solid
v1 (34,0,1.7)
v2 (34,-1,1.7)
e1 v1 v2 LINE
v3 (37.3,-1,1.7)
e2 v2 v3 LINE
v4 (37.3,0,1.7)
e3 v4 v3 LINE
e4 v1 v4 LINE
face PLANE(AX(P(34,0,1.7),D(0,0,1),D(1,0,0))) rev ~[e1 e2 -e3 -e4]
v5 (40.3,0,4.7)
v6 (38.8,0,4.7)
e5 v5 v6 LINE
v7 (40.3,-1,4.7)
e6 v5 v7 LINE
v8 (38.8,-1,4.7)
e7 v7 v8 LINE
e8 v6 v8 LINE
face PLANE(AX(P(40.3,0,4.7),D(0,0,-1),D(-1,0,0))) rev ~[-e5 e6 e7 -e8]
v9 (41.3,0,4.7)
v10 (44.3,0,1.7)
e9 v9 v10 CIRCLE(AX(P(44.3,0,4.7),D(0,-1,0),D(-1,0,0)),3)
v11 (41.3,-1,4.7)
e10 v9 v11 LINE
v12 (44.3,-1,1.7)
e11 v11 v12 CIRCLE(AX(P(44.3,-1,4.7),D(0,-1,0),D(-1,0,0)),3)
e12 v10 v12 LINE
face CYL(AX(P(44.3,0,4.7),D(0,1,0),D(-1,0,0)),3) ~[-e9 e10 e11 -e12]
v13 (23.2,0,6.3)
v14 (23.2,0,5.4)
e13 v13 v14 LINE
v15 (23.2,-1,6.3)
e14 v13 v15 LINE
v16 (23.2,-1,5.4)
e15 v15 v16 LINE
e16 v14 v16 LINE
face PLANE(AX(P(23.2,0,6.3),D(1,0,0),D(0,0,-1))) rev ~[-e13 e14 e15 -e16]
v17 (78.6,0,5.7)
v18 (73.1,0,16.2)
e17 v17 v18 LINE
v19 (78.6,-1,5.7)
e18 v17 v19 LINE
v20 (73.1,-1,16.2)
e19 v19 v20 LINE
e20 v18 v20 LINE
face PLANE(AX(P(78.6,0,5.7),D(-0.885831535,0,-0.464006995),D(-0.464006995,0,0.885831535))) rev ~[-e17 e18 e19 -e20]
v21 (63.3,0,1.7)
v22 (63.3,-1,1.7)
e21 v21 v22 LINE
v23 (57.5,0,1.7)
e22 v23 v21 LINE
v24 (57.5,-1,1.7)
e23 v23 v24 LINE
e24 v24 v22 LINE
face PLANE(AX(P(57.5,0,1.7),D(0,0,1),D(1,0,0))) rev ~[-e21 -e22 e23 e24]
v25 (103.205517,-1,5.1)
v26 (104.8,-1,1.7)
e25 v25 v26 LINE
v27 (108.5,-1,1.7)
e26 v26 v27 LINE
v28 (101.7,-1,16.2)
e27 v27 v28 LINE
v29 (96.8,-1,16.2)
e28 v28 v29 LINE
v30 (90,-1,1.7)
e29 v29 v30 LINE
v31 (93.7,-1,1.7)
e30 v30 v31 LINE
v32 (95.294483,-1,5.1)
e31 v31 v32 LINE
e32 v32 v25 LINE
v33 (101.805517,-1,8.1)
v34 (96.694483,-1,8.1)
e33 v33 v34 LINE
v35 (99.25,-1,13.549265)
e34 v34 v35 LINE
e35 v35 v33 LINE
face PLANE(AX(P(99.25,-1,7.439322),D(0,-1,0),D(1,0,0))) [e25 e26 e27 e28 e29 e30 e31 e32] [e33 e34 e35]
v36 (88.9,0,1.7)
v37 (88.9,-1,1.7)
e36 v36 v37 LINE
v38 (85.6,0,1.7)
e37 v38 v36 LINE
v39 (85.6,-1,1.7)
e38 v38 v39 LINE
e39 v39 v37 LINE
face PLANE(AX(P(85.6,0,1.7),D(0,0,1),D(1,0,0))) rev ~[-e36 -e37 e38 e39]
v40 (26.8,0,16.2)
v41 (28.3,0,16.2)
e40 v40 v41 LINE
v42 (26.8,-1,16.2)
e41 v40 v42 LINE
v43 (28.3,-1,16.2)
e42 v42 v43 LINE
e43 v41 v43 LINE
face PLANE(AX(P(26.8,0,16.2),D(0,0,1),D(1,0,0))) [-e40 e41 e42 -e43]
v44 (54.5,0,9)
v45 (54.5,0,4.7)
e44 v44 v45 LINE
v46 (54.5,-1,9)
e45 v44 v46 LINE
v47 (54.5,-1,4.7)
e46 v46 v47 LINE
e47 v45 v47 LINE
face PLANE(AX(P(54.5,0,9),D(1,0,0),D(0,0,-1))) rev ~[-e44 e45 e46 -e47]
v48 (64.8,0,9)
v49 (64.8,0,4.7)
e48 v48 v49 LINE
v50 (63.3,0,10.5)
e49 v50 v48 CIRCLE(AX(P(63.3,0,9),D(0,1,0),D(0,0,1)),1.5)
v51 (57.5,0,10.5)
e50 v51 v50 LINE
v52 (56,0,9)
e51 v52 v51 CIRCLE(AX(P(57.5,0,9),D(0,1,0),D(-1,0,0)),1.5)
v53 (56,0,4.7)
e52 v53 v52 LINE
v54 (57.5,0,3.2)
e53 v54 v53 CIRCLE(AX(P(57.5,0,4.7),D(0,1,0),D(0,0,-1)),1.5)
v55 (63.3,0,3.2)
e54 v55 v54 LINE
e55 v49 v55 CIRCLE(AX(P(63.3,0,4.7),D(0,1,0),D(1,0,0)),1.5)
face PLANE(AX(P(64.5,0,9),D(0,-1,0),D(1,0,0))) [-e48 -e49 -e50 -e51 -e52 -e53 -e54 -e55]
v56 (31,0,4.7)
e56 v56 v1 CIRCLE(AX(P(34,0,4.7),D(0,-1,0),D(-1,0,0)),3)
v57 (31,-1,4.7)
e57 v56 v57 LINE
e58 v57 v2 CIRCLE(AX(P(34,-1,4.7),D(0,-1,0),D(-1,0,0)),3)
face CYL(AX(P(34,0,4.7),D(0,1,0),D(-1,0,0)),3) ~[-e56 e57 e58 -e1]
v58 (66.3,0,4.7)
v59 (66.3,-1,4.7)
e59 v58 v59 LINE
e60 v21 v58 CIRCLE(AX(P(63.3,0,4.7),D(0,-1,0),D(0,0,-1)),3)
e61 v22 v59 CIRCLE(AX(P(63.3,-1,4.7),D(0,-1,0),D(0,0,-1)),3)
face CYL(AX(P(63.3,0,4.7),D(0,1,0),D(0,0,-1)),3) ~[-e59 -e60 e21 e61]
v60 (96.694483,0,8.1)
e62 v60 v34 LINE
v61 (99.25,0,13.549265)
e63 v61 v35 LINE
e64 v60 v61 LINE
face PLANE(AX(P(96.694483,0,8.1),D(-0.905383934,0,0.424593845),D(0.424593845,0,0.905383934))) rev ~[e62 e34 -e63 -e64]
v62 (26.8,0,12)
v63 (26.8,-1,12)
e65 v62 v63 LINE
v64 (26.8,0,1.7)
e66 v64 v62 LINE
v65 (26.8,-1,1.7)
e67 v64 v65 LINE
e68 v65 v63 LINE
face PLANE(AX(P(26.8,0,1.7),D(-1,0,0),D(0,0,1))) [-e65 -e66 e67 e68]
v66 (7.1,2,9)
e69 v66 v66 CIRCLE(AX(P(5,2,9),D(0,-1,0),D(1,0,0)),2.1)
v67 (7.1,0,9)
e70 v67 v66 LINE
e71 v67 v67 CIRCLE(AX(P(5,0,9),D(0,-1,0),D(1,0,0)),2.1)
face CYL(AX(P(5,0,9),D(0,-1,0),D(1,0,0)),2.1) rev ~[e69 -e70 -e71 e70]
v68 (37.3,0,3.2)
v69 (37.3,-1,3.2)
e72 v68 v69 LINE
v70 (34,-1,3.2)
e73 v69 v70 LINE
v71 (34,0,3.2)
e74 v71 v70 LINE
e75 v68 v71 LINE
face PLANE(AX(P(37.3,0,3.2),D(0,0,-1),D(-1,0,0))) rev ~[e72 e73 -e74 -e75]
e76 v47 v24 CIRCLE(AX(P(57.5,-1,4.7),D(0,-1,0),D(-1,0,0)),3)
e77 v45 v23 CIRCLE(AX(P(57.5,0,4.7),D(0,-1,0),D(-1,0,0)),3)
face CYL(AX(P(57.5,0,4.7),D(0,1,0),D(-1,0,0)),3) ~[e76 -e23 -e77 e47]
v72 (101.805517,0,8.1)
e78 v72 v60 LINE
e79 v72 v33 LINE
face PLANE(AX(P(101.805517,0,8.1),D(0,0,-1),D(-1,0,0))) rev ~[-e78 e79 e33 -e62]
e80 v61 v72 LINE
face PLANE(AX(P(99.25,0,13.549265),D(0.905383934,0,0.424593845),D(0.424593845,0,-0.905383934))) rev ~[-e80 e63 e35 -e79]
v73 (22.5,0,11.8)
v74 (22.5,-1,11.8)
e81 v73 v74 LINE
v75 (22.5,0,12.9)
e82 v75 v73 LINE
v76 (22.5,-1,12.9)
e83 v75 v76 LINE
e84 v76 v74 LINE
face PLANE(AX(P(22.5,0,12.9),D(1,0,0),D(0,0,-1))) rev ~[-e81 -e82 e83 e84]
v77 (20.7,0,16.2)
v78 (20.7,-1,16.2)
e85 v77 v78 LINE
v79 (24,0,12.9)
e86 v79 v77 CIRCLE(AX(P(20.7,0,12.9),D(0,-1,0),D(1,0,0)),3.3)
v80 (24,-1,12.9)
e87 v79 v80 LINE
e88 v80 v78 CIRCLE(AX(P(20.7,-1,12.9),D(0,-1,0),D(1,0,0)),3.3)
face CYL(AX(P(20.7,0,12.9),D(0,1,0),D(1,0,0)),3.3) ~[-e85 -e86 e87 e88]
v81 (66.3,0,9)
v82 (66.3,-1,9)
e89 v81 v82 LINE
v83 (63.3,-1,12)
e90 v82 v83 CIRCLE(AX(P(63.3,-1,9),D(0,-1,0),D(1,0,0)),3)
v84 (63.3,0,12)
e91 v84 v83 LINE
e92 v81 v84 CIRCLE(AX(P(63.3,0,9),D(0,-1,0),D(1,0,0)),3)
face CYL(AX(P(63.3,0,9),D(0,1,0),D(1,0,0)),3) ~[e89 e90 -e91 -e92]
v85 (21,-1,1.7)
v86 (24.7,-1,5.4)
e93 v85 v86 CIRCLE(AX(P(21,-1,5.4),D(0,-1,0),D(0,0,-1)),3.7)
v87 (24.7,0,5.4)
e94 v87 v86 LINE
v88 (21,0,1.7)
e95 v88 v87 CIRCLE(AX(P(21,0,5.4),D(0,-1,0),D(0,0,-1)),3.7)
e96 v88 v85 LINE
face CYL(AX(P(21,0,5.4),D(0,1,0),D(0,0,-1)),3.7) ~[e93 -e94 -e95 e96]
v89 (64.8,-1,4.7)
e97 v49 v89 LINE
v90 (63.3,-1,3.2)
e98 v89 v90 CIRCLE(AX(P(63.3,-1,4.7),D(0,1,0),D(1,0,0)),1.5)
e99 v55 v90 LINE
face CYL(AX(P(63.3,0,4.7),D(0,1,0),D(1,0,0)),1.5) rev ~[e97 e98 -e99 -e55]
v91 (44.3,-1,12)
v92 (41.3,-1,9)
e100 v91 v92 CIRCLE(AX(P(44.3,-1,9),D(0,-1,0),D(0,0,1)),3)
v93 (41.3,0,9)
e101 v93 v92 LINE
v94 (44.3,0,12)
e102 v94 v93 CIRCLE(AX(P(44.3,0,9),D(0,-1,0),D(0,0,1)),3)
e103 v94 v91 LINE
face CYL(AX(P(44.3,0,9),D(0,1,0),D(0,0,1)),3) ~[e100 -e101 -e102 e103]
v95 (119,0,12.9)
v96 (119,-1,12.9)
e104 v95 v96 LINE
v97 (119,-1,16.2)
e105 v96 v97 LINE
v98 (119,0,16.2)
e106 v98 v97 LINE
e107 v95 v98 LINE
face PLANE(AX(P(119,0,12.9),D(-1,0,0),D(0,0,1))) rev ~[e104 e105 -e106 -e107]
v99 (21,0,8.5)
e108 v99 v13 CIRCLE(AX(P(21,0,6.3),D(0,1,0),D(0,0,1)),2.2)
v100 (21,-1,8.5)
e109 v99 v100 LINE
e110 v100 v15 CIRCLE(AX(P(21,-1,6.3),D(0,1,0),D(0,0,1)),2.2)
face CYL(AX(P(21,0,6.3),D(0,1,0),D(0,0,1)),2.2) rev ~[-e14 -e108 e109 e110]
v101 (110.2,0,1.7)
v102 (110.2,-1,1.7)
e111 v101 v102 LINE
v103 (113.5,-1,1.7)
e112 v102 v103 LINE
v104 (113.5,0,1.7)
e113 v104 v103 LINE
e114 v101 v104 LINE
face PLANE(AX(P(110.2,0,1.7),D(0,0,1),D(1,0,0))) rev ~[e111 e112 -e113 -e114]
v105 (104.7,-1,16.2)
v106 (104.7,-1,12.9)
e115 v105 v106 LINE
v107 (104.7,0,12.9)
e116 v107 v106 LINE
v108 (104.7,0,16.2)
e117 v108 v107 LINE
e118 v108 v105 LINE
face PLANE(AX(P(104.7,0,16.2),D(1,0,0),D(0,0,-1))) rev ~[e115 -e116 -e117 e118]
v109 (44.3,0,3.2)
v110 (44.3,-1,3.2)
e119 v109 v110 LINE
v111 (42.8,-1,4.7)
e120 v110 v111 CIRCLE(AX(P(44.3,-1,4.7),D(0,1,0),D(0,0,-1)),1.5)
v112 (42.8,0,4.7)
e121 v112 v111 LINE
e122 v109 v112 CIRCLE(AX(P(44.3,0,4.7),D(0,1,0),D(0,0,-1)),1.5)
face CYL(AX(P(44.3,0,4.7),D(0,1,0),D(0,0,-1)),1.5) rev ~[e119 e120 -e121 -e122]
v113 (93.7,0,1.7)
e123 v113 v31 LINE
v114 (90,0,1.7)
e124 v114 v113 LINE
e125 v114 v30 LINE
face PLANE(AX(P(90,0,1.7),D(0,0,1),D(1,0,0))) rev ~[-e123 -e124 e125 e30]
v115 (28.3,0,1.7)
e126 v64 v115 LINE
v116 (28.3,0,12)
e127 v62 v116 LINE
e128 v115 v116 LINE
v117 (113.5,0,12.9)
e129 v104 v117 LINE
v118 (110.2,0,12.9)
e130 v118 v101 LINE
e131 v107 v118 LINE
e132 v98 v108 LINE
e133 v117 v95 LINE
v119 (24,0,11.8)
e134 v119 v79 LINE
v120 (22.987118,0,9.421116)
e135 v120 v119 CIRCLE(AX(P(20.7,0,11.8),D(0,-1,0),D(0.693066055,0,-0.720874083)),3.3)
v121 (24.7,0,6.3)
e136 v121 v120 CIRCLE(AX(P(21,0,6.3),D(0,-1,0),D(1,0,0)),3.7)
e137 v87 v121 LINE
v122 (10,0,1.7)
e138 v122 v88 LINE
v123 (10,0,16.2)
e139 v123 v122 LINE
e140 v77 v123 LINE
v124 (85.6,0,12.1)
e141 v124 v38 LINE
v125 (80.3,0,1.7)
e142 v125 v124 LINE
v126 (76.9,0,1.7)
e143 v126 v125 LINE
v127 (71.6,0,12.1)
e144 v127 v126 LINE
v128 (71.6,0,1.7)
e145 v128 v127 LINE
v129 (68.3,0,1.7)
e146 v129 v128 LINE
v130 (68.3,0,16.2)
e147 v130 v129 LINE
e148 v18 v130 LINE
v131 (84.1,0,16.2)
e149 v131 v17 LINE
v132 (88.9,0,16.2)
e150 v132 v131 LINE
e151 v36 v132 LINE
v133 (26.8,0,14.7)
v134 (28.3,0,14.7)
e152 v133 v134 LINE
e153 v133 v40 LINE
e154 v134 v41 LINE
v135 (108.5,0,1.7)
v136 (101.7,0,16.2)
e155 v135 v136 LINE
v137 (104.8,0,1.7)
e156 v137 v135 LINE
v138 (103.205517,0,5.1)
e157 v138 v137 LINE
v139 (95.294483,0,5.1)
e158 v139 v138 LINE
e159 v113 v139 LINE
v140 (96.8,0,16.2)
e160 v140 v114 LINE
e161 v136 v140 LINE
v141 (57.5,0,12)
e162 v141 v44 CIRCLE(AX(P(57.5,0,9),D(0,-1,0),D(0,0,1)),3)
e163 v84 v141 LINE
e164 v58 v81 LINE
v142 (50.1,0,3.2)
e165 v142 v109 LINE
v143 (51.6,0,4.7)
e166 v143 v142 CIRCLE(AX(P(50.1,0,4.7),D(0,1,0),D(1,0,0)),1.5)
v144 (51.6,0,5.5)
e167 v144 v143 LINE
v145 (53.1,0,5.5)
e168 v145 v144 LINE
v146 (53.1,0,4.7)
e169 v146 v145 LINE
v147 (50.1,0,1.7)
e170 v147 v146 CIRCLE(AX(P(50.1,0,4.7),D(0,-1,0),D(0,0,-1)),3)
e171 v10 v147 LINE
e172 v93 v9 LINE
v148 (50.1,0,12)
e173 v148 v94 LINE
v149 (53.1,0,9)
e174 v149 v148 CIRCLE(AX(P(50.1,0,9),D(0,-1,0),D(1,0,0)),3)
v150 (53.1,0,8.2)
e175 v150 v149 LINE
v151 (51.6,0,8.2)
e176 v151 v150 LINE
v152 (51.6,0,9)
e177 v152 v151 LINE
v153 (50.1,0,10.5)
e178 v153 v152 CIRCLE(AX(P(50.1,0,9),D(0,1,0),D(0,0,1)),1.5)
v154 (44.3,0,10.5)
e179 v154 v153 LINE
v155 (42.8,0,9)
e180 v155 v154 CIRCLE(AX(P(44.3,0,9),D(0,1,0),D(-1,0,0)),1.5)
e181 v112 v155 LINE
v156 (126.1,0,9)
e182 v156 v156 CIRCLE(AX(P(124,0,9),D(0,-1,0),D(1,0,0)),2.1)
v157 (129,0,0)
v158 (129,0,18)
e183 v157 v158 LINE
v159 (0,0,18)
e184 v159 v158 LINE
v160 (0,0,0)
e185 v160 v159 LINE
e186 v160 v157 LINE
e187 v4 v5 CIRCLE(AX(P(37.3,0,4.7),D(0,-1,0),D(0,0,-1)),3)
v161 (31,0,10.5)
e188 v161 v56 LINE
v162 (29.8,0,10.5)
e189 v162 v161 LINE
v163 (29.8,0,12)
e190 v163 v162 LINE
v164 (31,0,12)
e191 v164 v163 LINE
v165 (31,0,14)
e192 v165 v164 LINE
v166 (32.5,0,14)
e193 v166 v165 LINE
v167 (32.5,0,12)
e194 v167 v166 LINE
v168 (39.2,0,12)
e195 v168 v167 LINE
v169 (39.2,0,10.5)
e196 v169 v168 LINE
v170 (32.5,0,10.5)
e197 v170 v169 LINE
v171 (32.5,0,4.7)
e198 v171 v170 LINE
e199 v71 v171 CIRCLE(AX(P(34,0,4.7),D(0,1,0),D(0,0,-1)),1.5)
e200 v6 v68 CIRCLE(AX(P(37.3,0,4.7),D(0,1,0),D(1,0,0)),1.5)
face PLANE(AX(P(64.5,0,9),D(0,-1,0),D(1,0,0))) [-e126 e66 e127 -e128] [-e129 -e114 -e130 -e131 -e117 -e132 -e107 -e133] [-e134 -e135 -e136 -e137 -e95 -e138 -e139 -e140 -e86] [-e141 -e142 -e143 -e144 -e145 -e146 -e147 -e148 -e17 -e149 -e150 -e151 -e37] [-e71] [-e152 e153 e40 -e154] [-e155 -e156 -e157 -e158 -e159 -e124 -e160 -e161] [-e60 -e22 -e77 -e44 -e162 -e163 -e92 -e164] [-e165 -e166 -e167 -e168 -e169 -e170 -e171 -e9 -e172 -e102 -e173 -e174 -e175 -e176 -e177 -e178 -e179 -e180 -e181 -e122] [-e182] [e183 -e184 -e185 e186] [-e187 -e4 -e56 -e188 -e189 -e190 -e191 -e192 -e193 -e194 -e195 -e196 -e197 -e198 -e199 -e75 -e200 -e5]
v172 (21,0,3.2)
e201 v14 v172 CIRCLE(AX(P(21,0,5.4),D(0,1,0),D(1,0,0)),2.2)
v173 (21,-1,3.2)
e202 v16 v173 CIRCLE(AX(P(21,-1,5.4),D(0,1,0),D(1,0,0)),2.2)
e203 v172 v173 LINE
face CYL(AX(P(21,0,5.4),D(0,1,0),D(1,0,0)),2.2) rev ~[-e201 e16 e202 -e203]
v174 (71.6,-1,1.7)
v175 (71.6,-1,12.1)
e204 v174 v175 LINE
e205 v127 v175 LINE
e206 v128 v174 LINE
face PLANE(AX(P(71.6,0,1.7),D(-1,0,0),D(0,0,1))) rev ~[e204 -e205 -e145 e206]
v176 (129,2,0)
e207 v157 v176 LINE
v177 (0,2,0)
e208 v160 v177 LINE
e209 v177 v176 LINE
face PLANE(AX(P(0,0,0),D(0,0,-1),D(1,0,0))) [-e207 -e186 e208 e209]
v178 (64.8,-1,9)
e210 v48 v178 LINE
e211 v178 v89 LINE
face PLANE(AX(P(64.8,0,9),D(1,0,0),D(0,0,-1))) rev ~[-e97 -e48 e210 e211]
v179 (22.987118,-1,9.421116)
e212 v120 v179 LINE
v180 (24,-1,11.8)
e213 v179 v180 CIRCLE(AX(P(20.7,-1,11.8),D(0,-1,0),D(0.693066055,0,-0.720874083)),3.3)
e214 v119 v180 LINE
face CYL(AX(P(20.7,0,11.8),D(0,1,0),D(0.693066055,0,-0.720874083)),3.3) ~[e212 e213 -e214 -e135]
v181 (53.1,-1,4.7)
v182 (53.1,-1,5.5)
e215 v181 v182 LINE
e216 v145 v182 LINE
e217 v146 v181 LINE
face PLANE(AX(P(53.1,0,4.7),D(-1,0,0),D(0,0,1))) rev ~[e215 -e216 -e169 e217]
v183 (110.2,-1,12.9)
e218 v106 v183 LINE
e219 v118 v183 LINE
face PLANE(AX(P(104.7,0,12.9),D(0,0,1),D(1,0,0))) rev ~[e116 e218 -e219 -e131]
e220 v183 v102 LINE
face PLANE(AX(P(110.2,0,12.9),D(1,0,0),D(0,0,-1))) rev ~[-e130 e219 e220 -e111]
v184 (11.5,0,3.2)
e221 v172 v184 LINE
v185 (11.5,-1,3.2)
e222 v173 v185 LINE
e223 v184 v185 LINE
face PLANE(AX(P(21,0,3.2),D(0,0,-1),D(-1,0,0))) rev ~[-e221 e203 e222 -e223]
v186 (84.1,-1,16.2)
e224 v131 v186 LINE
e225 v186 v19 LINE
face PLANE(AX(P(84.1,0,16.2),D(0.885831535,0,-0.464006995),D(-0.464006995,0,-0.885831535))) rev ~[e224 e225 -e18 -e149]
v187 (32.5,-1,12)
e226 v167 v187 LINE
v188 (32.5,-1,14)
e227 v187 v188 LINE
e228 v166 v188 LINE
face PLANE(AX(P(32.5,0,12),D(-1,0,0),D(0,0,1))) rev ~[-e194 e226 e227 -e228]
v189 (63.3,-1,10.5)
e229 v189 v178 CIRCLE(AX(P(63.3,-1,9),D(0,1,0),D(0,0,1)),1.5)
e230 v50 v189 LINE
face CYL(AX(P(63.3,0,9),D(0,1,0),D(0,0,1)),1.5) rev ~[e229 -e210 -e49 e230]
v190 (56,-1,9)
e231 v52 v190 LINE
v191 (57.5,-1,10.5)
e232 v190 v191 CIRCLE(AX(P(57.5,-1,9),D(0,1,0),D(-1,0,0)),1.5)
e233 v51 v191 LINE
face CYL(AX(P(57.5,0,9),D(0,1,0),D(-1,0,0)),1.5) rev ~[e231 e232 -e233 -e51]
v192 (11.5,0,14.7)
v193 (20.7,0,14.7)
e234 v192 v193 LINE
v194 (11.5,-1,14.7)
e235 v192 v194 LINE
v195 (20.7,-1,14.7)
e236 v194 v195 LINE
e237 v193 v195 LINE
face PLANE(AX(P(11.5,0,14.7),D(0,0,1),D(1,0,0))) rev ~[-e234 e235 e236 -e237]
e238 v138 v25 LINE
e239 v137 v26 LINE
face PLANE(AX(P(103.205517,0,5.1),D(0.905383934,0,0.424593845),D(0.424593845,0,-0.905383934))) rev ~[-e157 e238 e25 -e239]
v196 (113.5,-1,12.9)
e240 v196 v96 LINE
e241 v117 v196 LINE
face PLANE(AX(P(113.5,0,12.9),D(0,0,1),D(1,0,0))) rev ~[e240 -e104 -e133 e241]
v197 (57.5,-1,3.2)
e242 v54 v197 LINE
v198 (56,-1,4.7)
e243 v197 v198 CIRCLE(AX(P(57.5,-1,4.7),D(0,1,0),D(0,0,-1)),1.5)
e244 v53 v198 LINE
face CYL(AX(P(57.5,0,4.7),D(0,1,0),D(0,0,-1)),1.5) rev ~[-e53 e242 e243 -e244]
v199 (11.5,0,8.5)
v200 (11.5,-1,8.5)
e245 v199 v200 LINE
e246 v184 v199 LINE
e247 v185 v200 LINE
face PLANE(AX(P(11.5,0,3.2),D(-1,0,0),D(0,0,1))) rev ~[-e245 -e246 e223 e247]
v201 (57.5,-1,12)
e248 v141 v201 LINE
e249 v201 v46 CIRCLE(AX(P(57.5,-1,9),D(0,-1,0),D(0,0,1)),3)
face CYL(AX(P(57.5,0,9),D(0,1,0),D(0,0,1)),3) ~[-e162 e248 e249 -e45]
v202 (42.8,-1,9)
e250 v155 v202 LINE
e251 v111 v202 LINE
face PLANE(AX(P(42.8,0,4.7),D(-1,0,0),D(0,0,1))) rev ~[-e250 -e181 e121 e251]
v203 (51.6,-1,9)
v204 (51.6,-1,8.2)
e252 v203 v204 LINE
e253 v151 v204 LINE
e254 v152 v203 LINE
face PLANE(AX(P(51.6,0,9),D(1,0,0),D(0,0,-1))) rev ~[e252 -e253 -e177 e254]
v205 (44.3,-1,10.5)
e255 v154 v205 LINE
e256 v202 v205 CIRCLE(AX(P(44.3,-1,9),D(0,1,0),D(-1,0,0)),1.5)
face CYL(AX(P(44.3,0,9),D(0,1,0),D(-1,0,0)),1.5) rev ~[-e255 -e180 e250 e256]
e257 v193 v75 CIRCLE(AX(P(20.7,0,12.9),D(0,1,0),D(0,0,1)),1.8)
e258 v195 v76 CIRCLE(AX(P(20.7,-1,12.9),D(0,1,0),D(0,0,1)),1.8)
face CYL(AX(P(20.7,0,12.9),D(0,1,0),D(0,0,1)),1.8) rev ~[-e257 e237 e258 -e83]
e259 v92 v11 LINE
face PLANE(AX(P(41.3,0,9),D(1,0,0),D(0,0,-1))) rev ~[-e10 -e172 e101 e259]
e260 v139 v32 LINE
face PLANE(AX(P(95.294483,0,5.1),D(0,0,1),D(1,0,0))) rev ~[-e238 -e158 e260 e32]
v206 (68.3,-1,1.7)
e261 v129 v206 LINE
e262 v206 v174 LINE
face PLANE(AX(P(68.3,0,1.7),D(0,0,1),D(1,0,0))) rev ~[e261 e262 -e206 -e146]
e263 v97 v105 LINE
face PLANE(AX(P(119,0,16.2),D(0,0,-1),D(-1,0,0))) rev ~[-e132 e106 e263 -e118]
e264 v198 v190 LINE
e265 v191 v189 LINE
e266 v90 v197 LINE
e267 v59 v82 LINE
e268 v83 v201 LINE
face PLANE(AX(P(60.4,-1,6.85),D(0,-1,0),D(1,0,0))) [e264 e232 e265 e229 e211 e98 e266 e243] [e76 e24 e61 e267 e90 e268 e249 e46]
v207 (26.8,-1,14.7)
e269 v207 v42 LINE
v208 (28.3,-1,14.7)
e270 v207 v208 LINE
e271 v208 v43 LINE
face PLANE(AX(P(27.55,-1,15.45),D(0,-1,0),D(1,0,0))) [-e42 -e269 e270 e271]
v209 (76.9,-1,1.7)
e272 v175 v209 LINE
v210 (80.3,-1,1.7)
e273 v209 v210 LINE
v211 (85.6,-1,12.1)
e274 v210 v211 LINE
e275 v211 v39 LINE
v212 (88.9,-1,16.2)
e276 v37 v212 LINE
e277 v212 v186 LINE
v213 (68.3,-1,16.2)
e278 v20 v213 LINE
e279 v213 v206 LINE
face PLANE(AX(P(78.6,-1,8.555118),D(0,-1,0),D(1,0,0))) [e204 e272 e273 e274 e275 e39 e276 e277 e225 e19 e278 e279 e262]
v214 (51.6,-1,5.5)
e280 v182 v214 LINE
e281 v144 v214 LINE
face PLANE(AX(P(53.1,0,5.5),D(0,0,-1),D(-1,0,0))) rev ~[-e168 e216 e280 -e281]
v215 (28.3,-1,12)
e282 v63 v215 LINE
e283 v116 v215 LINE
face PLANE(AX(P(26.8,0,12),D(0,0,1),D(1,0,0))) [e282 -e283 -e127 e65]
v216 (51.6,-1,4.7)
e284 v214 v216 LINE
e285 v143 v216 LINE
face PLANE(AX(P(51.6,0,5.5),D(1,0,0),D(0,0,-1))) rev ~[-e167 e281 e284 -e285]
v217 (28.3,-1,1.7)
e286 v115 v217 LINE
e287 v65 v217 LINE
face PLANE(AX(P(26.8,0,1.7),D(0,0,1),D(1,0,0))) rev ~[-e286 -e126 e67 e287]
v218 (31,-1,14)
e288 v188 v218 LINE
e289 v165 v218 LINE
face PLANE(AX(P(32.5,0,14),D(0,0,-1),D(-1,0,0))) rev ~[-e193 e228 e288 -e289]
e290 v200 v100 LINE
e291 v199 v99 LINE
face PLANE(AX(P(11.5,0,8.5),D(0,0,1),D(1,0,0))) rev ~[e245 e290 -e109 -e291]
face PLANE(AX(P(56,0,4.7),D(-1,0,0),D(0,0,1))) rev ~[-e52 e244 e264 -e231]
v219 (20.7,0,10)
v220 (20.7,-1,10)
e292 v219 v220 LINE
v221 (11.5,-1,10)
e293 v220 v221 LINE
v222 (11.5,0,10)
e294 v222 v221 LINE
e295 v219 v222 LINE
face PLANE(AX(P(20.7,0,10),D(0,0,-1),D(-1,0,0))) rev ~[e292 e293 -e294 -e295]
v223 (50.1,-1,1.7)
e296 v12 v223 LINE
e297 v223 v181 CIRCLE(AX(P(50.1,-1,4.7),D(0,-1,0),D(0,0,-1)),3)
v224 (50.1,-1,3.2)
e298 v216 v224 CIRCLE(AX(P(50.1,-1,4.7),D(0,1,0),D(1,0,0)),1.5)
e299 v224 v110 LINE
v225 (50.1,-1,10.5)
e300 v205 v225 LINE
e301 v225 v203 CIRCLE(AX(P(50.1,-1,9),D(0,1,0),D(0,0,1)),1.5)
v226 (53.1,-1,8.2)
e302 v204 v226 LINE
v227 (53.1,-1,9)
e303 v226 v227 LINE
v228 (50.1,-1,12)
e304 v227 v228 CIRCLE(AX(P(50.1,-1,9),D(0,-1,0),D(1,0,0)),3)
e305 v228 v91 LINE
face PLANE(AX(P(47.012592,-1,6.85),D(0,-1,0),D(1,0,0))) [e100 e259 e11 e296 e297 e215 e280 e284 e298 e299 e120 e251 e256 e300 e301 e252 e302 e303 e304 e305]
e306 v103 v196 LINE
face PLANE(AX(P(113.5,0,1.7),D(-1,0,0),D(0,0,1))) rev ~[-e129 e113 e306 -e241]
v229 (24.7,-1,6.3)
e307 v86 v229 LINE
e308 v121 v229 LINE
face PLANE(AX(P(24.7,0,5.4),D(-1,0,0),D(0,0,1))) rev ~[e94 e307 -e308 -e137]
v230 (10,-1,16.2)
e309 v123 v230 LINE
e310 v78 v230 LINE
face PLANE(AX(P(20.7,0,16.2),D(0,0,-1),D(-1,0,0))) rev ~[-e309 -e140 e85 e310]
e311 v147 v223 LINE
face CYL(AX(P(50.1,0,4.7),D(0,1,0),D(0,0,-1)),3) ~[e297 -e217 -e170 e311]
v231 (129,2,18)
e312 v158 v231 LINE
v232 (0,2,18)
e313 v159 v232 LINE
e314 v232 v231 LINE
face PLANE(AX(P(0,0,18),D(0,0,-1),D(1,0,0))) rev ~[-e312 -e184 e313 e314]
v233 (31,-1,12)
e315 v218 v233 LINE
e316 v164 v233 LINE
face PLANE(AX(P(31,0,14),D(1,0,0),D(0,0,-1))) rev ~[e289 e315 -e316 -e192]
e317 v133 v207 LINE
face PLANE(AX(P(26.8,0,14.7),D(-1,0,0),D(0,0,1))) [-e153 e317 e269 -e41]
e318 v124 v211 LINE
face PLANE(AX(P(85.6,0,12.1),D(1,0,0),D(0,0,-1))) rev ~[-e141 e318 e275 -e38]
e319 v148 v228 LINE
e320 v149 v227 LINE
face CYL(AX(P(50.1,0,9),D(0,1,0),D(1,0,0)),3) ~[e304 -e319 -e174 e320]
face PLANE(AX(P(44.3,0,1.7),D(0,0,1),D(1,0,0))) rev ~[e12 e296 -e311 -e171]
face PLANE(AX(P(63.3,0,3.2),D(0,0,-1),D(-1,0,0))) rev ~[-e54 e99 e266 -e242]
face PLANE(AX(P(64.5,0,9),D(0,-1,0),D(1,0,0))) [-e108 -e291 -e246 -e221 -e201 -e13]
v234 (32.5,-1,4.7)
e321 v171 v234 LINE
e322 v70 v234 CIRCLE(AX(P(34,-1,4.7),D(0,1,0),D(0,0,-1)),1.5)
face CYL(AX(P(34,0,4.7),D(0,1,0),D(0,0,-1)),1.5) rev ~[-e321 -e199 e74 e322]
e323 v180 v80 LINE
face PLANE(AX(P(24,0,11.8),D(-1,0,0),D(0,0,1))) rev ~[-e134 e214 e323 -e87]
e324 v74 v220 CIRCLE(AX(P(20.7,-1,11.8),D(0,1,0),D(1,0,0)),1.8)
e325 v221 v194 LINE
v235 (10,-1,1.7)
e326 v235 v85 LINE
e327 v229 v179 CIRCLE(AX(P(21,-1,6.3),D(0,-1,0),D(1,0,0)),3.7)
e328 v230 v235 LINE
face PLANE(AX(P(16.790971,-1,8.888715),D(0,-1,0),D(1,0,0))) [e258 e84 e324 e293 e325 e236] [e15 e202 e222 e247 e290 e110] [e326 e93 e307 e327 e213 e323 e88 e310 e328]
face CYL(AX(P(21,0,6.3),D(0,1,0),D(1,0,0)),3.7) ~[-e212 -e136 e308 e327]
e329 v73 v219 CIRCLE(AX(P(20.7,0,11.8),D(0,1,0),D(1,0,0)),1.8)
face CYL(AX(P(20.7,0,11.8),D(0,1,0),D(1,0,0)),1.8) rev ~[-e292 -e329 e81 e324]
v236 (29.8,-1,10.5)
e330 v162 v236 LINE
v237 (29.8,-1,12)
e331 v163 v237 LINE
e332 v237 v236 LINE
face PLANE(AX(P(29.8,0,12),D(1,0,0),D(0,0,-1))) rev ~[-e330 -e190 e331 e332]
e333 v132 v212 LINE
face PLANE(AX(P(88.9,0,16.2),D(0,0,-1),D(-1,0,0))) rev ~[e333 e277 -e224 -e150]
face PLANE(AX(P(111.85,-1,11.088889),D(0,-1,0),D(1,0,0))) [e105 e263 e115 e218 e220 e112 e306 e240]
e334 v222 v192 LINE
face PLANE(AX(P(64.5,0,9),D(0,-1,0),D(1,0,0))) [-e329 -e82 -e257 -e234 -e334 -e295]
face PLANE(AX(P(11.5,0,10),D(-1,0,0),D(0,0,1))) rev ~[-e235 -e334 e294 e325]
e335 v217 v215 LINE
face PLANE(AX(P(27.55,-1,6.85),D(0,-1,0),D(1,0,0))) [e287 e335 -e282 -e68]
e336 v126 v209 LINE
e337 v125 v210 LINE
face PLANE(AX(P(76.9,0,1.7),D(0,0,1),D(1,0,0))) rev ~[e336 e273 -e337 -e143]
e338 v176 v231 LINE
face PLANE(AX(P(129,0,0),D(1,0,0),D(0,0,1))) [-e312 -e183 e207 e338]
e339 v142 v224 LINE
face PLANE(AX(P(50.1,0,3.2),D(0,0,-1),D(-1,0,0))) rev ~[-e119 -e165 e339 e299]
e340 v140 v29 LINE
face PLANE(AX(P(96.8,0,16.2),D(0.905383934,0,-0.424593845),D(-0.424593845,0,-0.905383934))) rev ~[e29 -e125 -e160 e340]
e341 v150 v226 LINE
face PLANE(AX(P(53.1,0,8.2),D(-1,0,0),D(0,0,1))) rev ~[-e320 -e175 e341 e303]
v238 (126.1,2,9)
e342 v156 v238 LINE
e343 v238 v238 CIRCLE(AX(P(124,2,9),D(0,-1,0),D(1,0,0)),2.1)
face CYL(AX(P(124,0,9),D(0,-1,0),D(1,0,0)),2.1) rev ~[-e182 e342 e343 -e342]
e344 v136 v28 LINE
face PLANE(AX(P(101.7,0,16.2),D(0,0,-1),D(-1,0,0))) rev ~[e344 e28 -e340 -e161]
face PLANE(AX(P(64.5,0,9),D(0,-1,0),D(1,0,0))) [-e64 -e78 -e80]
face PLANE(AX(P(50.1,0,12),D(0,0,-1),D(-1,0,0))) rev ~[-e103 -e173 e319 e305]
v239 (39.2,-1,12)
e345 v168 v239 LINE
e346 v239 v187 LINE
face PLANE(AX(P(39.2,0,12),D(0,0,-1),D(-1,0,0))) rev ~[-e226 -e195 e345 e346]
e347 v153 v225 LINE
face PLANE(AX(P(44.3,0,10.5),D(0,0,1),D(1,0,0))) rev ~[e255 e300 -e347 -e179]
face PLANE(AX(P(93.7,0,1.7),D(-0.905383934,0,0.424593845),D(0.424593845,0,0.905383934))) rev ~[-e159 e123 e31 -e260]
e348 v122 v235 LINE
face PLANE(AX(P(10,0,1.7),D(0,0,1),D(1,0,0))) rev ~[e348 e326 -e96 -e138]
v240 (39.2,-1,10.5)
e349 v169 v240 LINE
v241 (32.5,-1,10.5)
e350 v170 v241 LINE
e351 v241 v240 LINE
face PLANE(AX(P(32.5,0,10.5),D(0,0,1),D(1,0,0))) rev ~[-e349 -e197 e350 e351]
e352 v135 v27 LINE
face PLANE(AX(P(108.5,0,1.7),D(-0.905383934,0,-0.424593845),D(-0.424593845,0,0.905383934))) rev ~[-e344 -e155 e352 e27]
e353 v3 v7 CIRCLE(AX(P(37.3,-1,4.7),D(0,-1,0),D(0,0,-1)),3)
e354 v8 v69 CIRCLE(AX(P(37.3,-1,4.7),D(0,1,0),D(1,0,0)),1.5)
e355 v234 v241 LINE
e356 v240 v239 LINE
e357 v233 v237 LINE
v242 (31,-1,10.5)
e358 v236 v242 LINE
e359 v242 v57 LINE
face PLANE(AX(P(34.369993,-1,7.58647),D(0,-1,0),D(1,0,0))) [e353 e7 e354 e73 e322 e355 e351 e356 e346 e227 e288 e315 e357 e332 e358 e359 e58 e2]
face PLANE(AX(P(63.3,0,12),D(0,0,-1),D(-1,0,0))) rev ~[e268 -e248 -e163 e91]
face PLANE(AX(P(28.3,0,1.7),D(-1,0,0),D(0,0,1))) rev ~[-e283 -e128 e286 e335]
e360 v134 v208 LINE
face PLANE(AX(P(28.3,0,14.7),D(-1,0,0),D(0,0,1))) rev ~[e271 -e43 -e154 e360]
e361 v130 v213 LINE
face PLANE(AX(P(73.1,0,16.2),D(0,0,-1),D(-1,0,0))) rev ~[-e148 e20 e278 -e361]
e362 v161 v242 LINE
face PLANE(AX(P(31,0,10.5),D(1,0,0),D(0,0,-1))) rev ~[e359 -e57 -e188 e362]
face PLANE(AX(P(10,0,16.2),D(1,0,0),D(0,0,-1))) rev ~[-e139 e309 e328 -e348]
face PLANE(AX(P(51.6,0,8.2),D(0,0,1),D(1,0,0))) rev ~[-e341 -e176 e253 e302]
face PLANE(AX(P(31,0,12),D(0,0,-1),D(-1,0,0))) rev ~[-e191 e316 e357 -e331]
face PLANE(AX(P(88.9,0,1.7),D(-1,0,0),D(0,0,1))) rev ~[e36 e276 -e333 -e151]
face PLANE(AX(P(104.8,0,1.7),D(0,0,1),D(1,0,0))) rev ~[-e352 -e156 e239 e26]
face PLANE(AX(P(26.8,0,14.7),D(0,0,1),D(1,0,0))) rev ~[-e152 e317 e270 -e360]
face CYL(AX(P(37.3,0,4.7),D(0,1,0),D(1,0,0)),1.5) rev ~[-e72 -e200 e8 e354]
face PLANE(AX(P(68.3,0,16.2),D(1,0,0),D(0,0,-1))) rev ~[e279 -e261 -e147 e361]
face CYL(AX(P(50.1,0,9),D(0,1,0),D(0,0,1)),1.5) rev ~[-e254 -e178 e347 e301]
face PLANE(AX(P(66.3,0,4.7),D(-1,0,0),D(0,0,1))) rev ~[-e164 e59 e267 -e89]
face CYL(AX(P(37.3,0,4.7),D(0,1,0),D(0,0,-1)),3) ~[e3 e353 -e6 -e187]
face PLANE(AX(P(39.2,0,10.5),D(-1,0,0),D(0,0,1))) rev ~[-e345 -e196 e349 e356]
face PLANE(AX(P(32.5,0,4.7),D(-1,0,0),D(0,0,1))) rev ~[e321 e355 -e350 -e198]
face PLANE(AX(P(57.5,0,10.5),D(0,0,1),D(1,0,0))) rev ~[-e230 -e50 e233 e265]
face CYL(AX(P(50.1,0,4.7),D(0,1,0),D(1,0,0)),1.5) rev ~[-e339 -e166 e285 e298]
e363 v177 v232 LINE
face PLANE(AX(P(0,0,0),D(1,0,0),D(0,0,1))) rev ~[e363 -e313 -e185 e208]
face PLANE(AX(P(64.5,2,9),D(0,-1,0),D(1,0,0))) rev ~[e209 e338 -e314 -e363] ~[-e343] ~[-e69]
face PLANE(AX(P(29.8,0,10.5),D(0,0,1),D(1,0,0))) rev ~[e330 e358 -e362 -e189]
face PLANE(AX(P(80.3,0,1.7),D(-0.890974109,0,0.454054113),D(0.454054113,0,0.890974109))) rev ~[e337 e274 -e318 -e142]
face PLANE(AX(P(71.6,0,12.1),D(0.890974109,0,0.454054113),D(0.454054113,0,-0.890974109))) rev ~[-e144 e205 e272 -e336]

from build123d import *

# Parameters (mm, degrees)
F0_W     = 129
F0_H     = 18
F0_W_2   = 1.5
F0_H_2   = 10.3
F0_R     = 2.1
F0_H_3   = 1.5
F1_DEPTH = 2
F2_DEPTH = 1


with BuildPart() as f1:
    # F0 (on Front) → F1 (new body)
    with BuildSketch(Plane.XZ):
        with Locations((64.5, 9)):
            Rectangle(F0_W, F0_H)
        with Locations((27.55, 6.85)):
            Rectangle(F0_W_2, F0_H_2, mode=Mode.SUBTRACT)
        with BuildLine():
            Line((10, 1.7), (10, 16.2))
            Line((10, 16.2), (20.7, 16.2))
            ThreePointArc((20.7, 16.2), (23.0334523779, 15.2334523779), (24, 12.9))
            Line((24, 12.9), (24, 11.8))
            ThreePointArc((24, 11.8), (23.7362385725, 10.5072295908), (22.9871179813, 9.4211155263))
            ThreePointArc((22.9871179813, 9.4211155263), (24.2436350389, 8.0801212696), (24.7, 6.3))
            Line((24.7, 6.3), (24.7, 5.4))
            ThreePointArc((24.7, 5.4), (23.6162950904, 2.7837049096), (21, 1.7))
            Line((21, 1.7), (10, 1.7))
        make_face(mode=Mode.SUBTRACT)
        with BuildLine():
            Line((32.5, 10.5), (32.5, 4.7))
            ThreePointArc((32.5, 4.7), (32.9393398282, 3.6393398282), (34, 3.2))
            Line((34, 3.2), (37.3, 3.2))
            ThreePointArc((37.3, 3.2), (38.3606601718, 3.6393398282), (38.8, 4.7))
            Line((38.8, 4.7), (40.3, 4.7))
            ThreePointArc((40.3, 4.7), (39.4213203436, 2.5786796564), (37.3, 1.7))
            Line((37.3, 1.7), (34, 1.7))
            ThreePointArc((34, 1.7), (31.8786796564, 2.5786796564), (31, 4.7))
            Line((31, 4.7), (31, 10.5))
            Line((31, 10.5), (29.8, 10.5))
            Line((29.8, 10.5), (29.8, 12))
            Line((29.8, 12), (31, 12))
            Line((31, 12), (31, 14))
            Line((31, 14), (32.5, 14))
            Line((32.5, 14), (32.5, 12))
            Line((32.5, 12), (39.2, 12))
            Line((39.2, 12), (39.2, 10.5))
            Line((39.2, 10.5), (32.5, 10.5))
        make_face(mode=Mode.SUBTRACT)
        with BuildLine():
            Line((50.1, 10.5), (44.3, 10.5))
            ThreePointArc((44.3, 10.5), (43.2393398282, 10.0606601718), (42.8, 9))
            Line((42.8, 9), (42.8, 4.7))
            ThreePointArc((42.8, 4.7), (43.2393398282, 3.6393398282), (44.3, 3.2))
            Line((44.3, 3.2), (50.1, 3.2))
            ThreePointArc((50.1, 3.2), (51.1606601718, 3.6393398282), (51.6, 4.7))
            Line((51.6, 4.7), (51.6, 5.5))
            Line((51.6, 5.5), (53.1, 5.5))
            Line((53.1, 5.5), (53.1, 4.7))
            ThreePointArc((53.1, 4.7), (52.2213203436, 2.5786796564), (50.1, 1.7))
            Line((50.1, 1.7), (44.3, 1.7))
            ThreePointArc((44.3, 1.7), (42.1786796564, 2.5786796564), (41.3, 4.7))
            Line((41.3, 4.7), (41.3, 9))
            ThreePointArc((41.3, 9), (42.1786796564, 11.1213203436), (44.3, 12))
            Line((44.3, 12), (50.1, 12))
            ThreePointArc((50.1, 12), (52.2213203436, 11.1213203436), (53.1, 9))
            Line((53.1, 9), (53.1, 8.2))
            Line((53.1, 8.2), (51.6, 8.2))
            Line((51.6, 8.2), (51.6, 9))
            ThreePointArc((51.6, 9), (51.1606601718, 10.0606601718), (50.1, 10.5))
        make_face(mode=Mode.SUBTRACT)
        with BuildLine():
            ThreePointArc((54.5, 9), (55.3786796564, 11.1213203436), (57.5, 12))
            Line((57.5, 12), (63.3, 12))
            ThreePointArc((63.3, 12), (65.4213203436, 11.1213203436), (66.3, 9))
            Line((66.3, 9), (66.3, 4.7))
            ThreePointArc((66.3, 4.7), (65.4213203436, 2.5786796564), (63.3, 1.7))
            Line((63.3, 1.7), (57.5, 1.7))
            ThreePointArc((57.5, 1.7), (55.3786796564, 2.5786796564), (54.5, 4.7))
            Line((54.5, 4.7), (54.5, 9))
        make_face(mode=Mode.SUBTRACT)
        Polygon((71.6, 12.1), (71.6, 1.7), (68.3, 1.7), (68.3, 16.2), (73.1, 16.2), (78.6, 5.7), (84.1, 16.2), (88.9, 16.2), (88.9, 1.7), (85.6, 1.7), (85.6, 12.1), (80.3, 1.7), (76.9, 1.7), align=None, mode=Mode.SUBTRACT)
        Polygon((93.7, 1.7), (90, 1.7), (96.8, 16.2), (101.7, 16.2), (108.5, 1.7), (104.8, 1.7), (103.2055172414, 5.1), (95.2944827586, 5.1), align=None, mode=Mode.SUBTRACT)
        Polygon((104.7, 12.9), (104.7, 16.2), (119, 16.2), (119, 12.9), (113.5, 12.9), (113.5, 1.7), (110.2, 1.7), (110.2, 12.9), align=None, mode=Mode.SUBTRACT)
        with Locations((5, 9)):
            Circle(F0_R, mode=Mode.SUBTRACT)
        with Locations((27.55, 15.45)):
            Rectangle(F0_W_2, F0_H_3, mode=Mode.SUBTRACT)
        with Locations((124, 9)):
            Circle(F0_R, mode=Mode.SUBTRACT)
        with BuildLine():
            Line((20.7, 16.2), (10, 16.2))
            Line((10, 16.2), (10, 1.7))
            Line((10, 1.7), (21, 1.7))
            ThreePointArc((21, 1.7), (23.6162950904, 2.7837049096), (24.7, 5.4))
            Line((24.7, 5.4), (24.7, 6.3))
            ThreePointArc((24.7, 6.3), (24.2436350389, 8.0801212696), (22.9871179813, 9.4211155263))
            ThreePointArc((22.9871179813, 9.4211155263), (23.7362385725, 10.5072295908), (24, 11.8))
            Line((24, 11.8), (24, 12.9))
            ThreePointArc((24, 12.9), (23.0334523779, 15.2334523779), (20.7, 16.2))
        make_face()
        with BuildLine():
            Line((11.5, 8.5), (21, 8.5))
            ThreePointArc((21, 8.5), (22.5556349186, 7.8556349186), (23.2, 6.3))
            Line((23.2, 6.3), (23.2, 5.4))
            ThreePointArc((23.2, 5.4), (22.5556349186, 3.8443650814), (21, 3.2))
            Line((21, 3.2), (11.5, 3.2))
            Line((11.5, 3.2), (11.5, 8.5))
        make_face(mode=Mode.SUBTRACT)
        with BuildLine():
            Line((11.5, 14.7), (20.7, 14.7))
            ThreePointArc((20.7, 14.7), (21.9727922061, 14.1727922061), (22.5, 12.9))
            Line((22.5, 12.9), (22.5, 11.8))
            ThreePointArc((22.5, 11.8), (21.9727922061, 10.5272077939), (20.7, 10))
            Line((20.7, 10), (11.5, 10))
            Line((11.5, 10), (11.5, 14.7))
        make_face(mode=Mode.SUBTRACT)
        Polygon((68.3, 1.7), (71.6, 1.7), (71.6, 12.1), (76.9, 1.7), (80.3, 1.7), (85.6, 12.1), (85.6, 1.7), (88.9, 1.7), (88.9, 16.2), (84.1, 16.2), (78.6, 5.7), (73.1, 16.2), (68.3, 16.2), align=None)
        Polygon((96.8, 16.2), (90, 1.7), (93.7, 1.7), (95.2944827586, 5.1), (103.2055172414, 5.1), (104.8, 1.7), (108.5, 1.7), (101.7, 16.2), align=None)
        Polygon((99.25, 13.5492647059), (101.8055172414, 8.1), (96.6944827586, 8.1), align=None, mode=Mode.SUBTRACT)
        with BuildLine():
            Line((63.3, 12), (57.5, 12))
            ThreePointArc((57.5, 12), (55.3786796564, 11.1213203436), (54.5, 9))
            Line((54.5, 9), (54.5, 4.7))
            ThreePointArc((54.5, 4.7), (55.3786796564, 2.5786796564), (57.5, 1.7))
            Line((57.5, 1.7), (63.3, 1.7))
            ThreePointArc((63.3, 1.7), (65.4213203436, 2.5786796564), (66.3, 4.7))
            Line((66.3, 4.7), (66.3, 9))
            ThreePointArc((66.3, 9), (65.4213203436, 11.1213203436), (63.3, 12))
        make_face()
        with BuildLine():
            ThreePointArc((56, 9), (56.4393398282, 10.0606601718), (57.5, 10.5))
            Line((57.5, 10.5), (63.3, 10.5))
            ThreePointArc((63.3, 10.5), (64.3606601718, 10.0606601718), (64.8, 9))
            Line((64.8, 9), (64.8, 4.7))
            ThreePointArc((64.8, 4.7), (64.3606601718, 3.6393398282), (63.3, 3.2))
            Line((63.3, 3.2), (57.5, 3.2))
            ThreePointArc((57.5, 3.2), (56.4393398282, 3.6393398282), (56, 4.7))
            Line((56, 4.7), (56, 9))
        make_face(mode=Mode.SUBTRACT)
        Polygon((119, 16.2), (104.7, 16.2), (104.7, 12.9), (110.2, 12.9), (110.2, 1.7), (113.5, 1.7), (113.5, 12.9), (119, 12.9), align=None)
        with BuildLine():
            Line((63.3, 10.5), (57.5, 10.5))
            ThreePointArc((57.5, 10.5), (56.4393398282, 10.0606601718), (56, 9))
            Line((56, 9), (56, 4.7))
            ThreePointArc((56, 4.7), (56.4393398282, 3.6393398282), (57.5, 3.2))
            Line((57.5, 3.2), (63.3, 3.2))
            ThreePointArc((63.3, 3.2), (64.3606601718, 3.6393398282), (64.8, 4.7))
            Line((64.8, 4.7), (64.8, 9))
            ThreePointArc((64.8, 9), (64.3606601718, 10.0606601718), (63.3, 10.5))
        make_face()
        with BuildLine():
            ThreePointArc((23.2, 6.3), (22.5556349186, 7.8556349186), (21, 8.5))
            Line((21, 8.5), (11.5, 8.5))
            Line((11.5, 8.5), (11.5, 3.2))
            Line((11.5, 3.2), (21, 3.2))
            ThreePointArc((21, 3.2), (22.5556349186, 3.8443650814), (23.2, 5.4))
            Line((23.2, 5.4), (23.2, 6.3))
        make_face()
        with BuildLine():
            ThreePointArc((22.5, 12.9), (21.9727922061, 14.1727922061), (20.7, 14.7))
            Line((20.7, 14.7), (11.5, 14.7))
            Line((11.5, 14.7), (11.5, 10))
            Line((11.5, 10), (20.7, 10))
            ThreePointArc((20.7, 10), (21.9727922061, 10.5272077939), (22.5, 11.8))
            Line((22.5, 11.8), (22.5, 12.9))
        make_face()
        with BuildLine():
            ThreePointArc((42.8, 9), (43.2393398282, 10.0606601718), (44.3, 10.5))
            Line((44.3, 10.5), (50.1, 10.5))
            ThreePointArc((50.1, 10.5), (51.1606601718, 10.0606601718), (51.6, 9))
            Line((51.6, 9), (51.6, 8.2))
            Line((51.6, 8.2), (53.1, 8.2))
            Line((53.1, 8.2), (53.1, 9))
            ThreePointArc((53.1, 9), (52.2213203436, 11.1213203436), (50.1, 12))
            Line((50.1, 12), (44.3, 12))
            ThreePointArc((44.3, 12), (42.1786796564, 11.1213203436), (41.3, 9))
            Line((41.3, 9), (41.3, 4.7))
            ThreePointArc((41.3, 4.7), (42.1786796564, 2.5786796564), (44.3, 1.7))
            Line((44.3, 1.7), (50.1, 1.7))
            ThreePointArc((50.1, 1.7), (52.2213203436, 2.5786796564), (53.1, 4.7))
            Line((53.1, 4.7), (53.1, 5.5))
            Line((53.1, 5.5), (51.6, 5.5))
            Line((51.6, 5.5), (51.6, 4.7))
            ThreePointArc((51.6, 4.7), (51.1606601718, 3.6393398282), (50.1, 3.2))
            Line((50.1, 3.2), (44.3, 3.2))
            ThreePointArc((44.3, 3.2), (43.2393398282, 3.6393398282), (42.8, 4.7))
            Line((42.8, 4.7), (42.8, 9))
        make_face()
        with BuildLine():
            ThreePointArc((34, 3.2), (32.9393398282, 3.6393398282), (32.5, 4.7))
            Line((32.5, 4.7), (32.5, 10.5))
            Line((32.5, 10.5), (39.2, 10.5))
            Line((39.2, 10.5), (39.2, 12))
            Line((39.2, 12), (32.5, 12))
            Line((32.5, 12), (32.5, 14))
            Line((32.5, 14), (31, 14))
            Line((31, 14), (31, 12))
            Line((31, 12), (29.8, 12))
            Line((29.8, 12), (29.8, 10.5))
            Line((29.8, 10.5), (31, 10.5))
            Line((31, 10.5), (31, 4.7))
            ThreePointArc((31, 4.7), (31.8786796564, 2.5786796564), (34, 1.7))
            Line((34, 1.7), (37.3, 1.7))
            ThreePointArc((37.3, 1.7), (39.4213203436, 2.5786796564), (40.3, 4.7))
            Line((40.3, 4.7), (38.8, 4.7))
            ThreePointArc((38.8, 4.7), (38.3606601718, 3.6393398282), (37.3, 3.2))
            Line((37.3, 3.2), (34, 3.2))
        make_face()
        with Locations((27.55, 6.85)):
            Rectangle(F0_W_2, F0_H_2)
        Polygon((96.6944827586, 8.1), (101.8055172414, 8.1), (99.25, 13.5492647059), align=None)
        with Locations((27.55, 15.45)):
            Rectangle(F0_W_2, F0_H_3)
    extrude(amount=-F1_DEPTH)

    # F0 (on Front) → F2 (join)
    with BuildSketch(Plane.XZ):
        with BuildLine():
            Line((20.7, 16.2), (10, 16.2))
            Line((10, 16.2), (10, 1.7))
            Line((10, 1.7), (21, 1.7))
            ThreePointArc((21, 1.7), (23.6162950904, 2.7837049096), (24.7, 5.4))
            Line((24.7, 5.4), (24.7, 6.3))
            ThreePointArc((24.7, 6.3), (24.2436350389, 8.0801212696), (22.9871179813, 9.4211155263))
            ThreePointArc((22.9871179813, 9.4211155263), (23.7362385725, 10.5072295908), (24, 11.8))
            Line((24, 11.8), (24, 12.9))
            ThreePointArc((24, 12.9), (23.0334523779, 15.2334523779), (20.7, 16.2))
        make_face()
        with BuildLine():
            Line((11.5, 8.5), (21, 8.5))
            ThreePointArc((21, 8.5), (22.5556349186, 7.8556349186), (23.2, 6.3))
            Line((23.2, 6.3), (23.2, 5.4))
            ThreePointArc((23.2, 5.4), (22.5556349186, 3.8443650814), (21, 3.2))
            Line((21, 3.2), (11.5, 3.2))
            Line((11.5, 3.2), (11.5, 8.5))
        make_face(mode=Mode.SUBTRACT)
        with BuildLine():
            Line((11.5, 14.7), (20.7, 14.7))
            ThreePointArc((20.7, 14.7), (21.9727922061, 14.1727922061), (22.5, 12.9))
            Line((22.5, 12.9), (22.5, 11.8))
            ThreePointArc((22.5, 11.8), (21.9727922061, 10.5272077939), (20.7, 10))
            Line((20.7, 10), (11.5, 10))
            Line((11.5, 10), (11.5, 14.7))
        make_face(mode=Mode.SUBTRACT)
        with Locations((27.55, 6.85)):
            Rectangle(F0_W_2, F0_H_2)
        with Locations((27.55, 15.45)):
            Rectangle(F0_W_2, F0_H_3)
        with BuildLine():
            ThreePointArc((34, 3.2), (32.9393398282, 3.6393398282), (32.5, 4.7))
            Line((32.5, 4.7), (32.5, 10.5))
            Line((32.5, 10.5), (39.2, 10.5))
            Line((39.2, 10.5), (39.2, 12))
            Line((39.2, 12), (32.5, 12))
            Line((32.5, 12), (32.5, 14))
            Line((32.5, 14), (31, 14))
            Line((31, 14), (31, 12))
            Line((31, 12), (29.8, 12))
            Line((29.8, 12), (29.8, 10.5))
            Line((29.8, 10.5), (31, 10.5))
            Line((31, 10.5), (31, 4.7))
            ThreePointArc((31, 4.7), (31.8786796564, 2.5786796564), (34, 1.7))
            Line((34, 1.7), (37.3, 1.7))
            ThreePointArc((37.3, 1.7), (39.4213203436, 2.5786796564), (40.3, 4.7))
            Line((40.3, 4.7), (38.8, 4.7))
            ThreePointArc((38.8, 4.7), (38.3606601718, 3.6393398282), (37.3, 3.2))
            Line((37.3, 3.2), (34, 3.2))
        make_face()
        with BuildLine():
            ThreePointArc((42.8, 9), (43.2393398282, 10.0606601718), (44.3, 10.5))
            Line((44.3, 10.5), (50.1, 10.5))
            ThreePointArc((50.1, 10.5), (51.1606601718, 10.0606601718), (51.6, 9))
            Line((51.6, 9), (51.6, 8.2))
            Line((51.6, 8.2), (53.1, 8.2))
            Line((53.1, 8.2), (53.1, 9))
            ThreePointArc((53.1, 9), (52.2213203436, 11.1213203436), (50.1, 12))
            Line((50.1, 12), (44.3, 12))
            ThreePointArc((44.3, 12), (42.1786796564, 11.1213203436), (41.3, 9))
            Line((41.3, 9), (41.3, 4.7))
            ThreePointArc((41.3, 4.7), (42.1786796564, 2.5786796564), (44.3, 1.7))
            Line((44.3, 1.7), (50.1, 1.7))
            ThreePointArc((50.1, 1.7), (52.2213203436, 2.5786796564), (53.1, 4.7))
            Line((53.1, 4.7), (53.1, 5.5))
            Line((53.1, 5.5), (51.6, 5.5))
            Line((51.6, 5.5), (51.6, 4.7))
            ThreePointArc((51.6, 4.7), (51.1606601718, 3.6393398282), (50.1, 3.2))
            Line((50.1, 3.2), (44.3, 3.2))
            ThreePointArc((44.3, 3.2), (43.2393398282, 3.6393398282), (42.8, 4.7))
            Line((42.8, 4.7), (42.8, 9))
        make_face()
        with BuildLine():
            Line((63.3, 12), (57.5, 12))
            ThreePointArc((57.5, 12), (55.3786796564, 11.1213203436), (54.5, 9))
            Line((54.5, 9), (54.5, 4.7))
            ThreePointArc((54.5, 4.7), (55.3786796564, 2.5786796564), (57.5, 1.7))
            Line((57.5, 1.7), (63.3, 1.7))
            ThreePointArc((63.3, 1.7), (65.4213203436, 2.5786796564), (66.3, 4.7))
            Line((66.3, 4.7), (66.3, 9))
            ThreePointArc((66.3, 9), (65.4213203436, 11.1213203436), (63.3, 12))
        make_face()
        with BuildLine():
            ThreePointArc((56, 9), (56.4393398282, 10.0606601718), (57.5, 10.5))
            Line((57.5, 10.5), (63.3, 10.5))
            ThreePointArc((63.3, 10.5), (64.3606601718, 10.0606601718), (64.8, 9))
            Line((64.8, 9), (64.8, 4.7))
            ThreePointArc((64.8, 4.7), (64.3606601718, 3.6393398282), (63.3, 3.2))
            Line((63.3, 3.2), (57.5, 3.2))
            ThreePointArc((57.5, 3.2), (56.4393398282, 3.6393398282), (56, 4.7))
            Line((56, 4.7), (56, 9))
        make_face(mode=Mode.SUBTRACT)
        Polygon((68.3, 1.7), (71.6, 1.7), (71.6, 12.1), (76.9, 1.7), (80.3, 1.7), (85.6, 12.1), (85.6, 1.7), (88.9, 1.7), (88.9, 16.2), (84.1, 16.2), (78.6, 5.7), (73.1, 16.2), (68.3, 16.2), align=None)
        Polygon((96.8, 16.2), (90, 1.7), (93.7, 1.7), (95.2944827586, 5.1), (103.2055172414, 5.1), (104.8, 1.7), (108.5, 1.7), (101.7, 16.2), align=None)
        Polygon((99.25, 13.5492647059), (101.8055172414, 8.1), (96.6944827586, 8.1), align=None, mode=Mode.SUBTRACT)
        Polygon((119, 16.2), (104.7, 16.2), (104.7, 12.9), (110.2, 12.9), (110.2, 1.7), (113.5, 1.7), (113.5, 12.9), (119, 12.9), align=None)
    extrude(amount=F2_DEPTH)


solid = f1.part
